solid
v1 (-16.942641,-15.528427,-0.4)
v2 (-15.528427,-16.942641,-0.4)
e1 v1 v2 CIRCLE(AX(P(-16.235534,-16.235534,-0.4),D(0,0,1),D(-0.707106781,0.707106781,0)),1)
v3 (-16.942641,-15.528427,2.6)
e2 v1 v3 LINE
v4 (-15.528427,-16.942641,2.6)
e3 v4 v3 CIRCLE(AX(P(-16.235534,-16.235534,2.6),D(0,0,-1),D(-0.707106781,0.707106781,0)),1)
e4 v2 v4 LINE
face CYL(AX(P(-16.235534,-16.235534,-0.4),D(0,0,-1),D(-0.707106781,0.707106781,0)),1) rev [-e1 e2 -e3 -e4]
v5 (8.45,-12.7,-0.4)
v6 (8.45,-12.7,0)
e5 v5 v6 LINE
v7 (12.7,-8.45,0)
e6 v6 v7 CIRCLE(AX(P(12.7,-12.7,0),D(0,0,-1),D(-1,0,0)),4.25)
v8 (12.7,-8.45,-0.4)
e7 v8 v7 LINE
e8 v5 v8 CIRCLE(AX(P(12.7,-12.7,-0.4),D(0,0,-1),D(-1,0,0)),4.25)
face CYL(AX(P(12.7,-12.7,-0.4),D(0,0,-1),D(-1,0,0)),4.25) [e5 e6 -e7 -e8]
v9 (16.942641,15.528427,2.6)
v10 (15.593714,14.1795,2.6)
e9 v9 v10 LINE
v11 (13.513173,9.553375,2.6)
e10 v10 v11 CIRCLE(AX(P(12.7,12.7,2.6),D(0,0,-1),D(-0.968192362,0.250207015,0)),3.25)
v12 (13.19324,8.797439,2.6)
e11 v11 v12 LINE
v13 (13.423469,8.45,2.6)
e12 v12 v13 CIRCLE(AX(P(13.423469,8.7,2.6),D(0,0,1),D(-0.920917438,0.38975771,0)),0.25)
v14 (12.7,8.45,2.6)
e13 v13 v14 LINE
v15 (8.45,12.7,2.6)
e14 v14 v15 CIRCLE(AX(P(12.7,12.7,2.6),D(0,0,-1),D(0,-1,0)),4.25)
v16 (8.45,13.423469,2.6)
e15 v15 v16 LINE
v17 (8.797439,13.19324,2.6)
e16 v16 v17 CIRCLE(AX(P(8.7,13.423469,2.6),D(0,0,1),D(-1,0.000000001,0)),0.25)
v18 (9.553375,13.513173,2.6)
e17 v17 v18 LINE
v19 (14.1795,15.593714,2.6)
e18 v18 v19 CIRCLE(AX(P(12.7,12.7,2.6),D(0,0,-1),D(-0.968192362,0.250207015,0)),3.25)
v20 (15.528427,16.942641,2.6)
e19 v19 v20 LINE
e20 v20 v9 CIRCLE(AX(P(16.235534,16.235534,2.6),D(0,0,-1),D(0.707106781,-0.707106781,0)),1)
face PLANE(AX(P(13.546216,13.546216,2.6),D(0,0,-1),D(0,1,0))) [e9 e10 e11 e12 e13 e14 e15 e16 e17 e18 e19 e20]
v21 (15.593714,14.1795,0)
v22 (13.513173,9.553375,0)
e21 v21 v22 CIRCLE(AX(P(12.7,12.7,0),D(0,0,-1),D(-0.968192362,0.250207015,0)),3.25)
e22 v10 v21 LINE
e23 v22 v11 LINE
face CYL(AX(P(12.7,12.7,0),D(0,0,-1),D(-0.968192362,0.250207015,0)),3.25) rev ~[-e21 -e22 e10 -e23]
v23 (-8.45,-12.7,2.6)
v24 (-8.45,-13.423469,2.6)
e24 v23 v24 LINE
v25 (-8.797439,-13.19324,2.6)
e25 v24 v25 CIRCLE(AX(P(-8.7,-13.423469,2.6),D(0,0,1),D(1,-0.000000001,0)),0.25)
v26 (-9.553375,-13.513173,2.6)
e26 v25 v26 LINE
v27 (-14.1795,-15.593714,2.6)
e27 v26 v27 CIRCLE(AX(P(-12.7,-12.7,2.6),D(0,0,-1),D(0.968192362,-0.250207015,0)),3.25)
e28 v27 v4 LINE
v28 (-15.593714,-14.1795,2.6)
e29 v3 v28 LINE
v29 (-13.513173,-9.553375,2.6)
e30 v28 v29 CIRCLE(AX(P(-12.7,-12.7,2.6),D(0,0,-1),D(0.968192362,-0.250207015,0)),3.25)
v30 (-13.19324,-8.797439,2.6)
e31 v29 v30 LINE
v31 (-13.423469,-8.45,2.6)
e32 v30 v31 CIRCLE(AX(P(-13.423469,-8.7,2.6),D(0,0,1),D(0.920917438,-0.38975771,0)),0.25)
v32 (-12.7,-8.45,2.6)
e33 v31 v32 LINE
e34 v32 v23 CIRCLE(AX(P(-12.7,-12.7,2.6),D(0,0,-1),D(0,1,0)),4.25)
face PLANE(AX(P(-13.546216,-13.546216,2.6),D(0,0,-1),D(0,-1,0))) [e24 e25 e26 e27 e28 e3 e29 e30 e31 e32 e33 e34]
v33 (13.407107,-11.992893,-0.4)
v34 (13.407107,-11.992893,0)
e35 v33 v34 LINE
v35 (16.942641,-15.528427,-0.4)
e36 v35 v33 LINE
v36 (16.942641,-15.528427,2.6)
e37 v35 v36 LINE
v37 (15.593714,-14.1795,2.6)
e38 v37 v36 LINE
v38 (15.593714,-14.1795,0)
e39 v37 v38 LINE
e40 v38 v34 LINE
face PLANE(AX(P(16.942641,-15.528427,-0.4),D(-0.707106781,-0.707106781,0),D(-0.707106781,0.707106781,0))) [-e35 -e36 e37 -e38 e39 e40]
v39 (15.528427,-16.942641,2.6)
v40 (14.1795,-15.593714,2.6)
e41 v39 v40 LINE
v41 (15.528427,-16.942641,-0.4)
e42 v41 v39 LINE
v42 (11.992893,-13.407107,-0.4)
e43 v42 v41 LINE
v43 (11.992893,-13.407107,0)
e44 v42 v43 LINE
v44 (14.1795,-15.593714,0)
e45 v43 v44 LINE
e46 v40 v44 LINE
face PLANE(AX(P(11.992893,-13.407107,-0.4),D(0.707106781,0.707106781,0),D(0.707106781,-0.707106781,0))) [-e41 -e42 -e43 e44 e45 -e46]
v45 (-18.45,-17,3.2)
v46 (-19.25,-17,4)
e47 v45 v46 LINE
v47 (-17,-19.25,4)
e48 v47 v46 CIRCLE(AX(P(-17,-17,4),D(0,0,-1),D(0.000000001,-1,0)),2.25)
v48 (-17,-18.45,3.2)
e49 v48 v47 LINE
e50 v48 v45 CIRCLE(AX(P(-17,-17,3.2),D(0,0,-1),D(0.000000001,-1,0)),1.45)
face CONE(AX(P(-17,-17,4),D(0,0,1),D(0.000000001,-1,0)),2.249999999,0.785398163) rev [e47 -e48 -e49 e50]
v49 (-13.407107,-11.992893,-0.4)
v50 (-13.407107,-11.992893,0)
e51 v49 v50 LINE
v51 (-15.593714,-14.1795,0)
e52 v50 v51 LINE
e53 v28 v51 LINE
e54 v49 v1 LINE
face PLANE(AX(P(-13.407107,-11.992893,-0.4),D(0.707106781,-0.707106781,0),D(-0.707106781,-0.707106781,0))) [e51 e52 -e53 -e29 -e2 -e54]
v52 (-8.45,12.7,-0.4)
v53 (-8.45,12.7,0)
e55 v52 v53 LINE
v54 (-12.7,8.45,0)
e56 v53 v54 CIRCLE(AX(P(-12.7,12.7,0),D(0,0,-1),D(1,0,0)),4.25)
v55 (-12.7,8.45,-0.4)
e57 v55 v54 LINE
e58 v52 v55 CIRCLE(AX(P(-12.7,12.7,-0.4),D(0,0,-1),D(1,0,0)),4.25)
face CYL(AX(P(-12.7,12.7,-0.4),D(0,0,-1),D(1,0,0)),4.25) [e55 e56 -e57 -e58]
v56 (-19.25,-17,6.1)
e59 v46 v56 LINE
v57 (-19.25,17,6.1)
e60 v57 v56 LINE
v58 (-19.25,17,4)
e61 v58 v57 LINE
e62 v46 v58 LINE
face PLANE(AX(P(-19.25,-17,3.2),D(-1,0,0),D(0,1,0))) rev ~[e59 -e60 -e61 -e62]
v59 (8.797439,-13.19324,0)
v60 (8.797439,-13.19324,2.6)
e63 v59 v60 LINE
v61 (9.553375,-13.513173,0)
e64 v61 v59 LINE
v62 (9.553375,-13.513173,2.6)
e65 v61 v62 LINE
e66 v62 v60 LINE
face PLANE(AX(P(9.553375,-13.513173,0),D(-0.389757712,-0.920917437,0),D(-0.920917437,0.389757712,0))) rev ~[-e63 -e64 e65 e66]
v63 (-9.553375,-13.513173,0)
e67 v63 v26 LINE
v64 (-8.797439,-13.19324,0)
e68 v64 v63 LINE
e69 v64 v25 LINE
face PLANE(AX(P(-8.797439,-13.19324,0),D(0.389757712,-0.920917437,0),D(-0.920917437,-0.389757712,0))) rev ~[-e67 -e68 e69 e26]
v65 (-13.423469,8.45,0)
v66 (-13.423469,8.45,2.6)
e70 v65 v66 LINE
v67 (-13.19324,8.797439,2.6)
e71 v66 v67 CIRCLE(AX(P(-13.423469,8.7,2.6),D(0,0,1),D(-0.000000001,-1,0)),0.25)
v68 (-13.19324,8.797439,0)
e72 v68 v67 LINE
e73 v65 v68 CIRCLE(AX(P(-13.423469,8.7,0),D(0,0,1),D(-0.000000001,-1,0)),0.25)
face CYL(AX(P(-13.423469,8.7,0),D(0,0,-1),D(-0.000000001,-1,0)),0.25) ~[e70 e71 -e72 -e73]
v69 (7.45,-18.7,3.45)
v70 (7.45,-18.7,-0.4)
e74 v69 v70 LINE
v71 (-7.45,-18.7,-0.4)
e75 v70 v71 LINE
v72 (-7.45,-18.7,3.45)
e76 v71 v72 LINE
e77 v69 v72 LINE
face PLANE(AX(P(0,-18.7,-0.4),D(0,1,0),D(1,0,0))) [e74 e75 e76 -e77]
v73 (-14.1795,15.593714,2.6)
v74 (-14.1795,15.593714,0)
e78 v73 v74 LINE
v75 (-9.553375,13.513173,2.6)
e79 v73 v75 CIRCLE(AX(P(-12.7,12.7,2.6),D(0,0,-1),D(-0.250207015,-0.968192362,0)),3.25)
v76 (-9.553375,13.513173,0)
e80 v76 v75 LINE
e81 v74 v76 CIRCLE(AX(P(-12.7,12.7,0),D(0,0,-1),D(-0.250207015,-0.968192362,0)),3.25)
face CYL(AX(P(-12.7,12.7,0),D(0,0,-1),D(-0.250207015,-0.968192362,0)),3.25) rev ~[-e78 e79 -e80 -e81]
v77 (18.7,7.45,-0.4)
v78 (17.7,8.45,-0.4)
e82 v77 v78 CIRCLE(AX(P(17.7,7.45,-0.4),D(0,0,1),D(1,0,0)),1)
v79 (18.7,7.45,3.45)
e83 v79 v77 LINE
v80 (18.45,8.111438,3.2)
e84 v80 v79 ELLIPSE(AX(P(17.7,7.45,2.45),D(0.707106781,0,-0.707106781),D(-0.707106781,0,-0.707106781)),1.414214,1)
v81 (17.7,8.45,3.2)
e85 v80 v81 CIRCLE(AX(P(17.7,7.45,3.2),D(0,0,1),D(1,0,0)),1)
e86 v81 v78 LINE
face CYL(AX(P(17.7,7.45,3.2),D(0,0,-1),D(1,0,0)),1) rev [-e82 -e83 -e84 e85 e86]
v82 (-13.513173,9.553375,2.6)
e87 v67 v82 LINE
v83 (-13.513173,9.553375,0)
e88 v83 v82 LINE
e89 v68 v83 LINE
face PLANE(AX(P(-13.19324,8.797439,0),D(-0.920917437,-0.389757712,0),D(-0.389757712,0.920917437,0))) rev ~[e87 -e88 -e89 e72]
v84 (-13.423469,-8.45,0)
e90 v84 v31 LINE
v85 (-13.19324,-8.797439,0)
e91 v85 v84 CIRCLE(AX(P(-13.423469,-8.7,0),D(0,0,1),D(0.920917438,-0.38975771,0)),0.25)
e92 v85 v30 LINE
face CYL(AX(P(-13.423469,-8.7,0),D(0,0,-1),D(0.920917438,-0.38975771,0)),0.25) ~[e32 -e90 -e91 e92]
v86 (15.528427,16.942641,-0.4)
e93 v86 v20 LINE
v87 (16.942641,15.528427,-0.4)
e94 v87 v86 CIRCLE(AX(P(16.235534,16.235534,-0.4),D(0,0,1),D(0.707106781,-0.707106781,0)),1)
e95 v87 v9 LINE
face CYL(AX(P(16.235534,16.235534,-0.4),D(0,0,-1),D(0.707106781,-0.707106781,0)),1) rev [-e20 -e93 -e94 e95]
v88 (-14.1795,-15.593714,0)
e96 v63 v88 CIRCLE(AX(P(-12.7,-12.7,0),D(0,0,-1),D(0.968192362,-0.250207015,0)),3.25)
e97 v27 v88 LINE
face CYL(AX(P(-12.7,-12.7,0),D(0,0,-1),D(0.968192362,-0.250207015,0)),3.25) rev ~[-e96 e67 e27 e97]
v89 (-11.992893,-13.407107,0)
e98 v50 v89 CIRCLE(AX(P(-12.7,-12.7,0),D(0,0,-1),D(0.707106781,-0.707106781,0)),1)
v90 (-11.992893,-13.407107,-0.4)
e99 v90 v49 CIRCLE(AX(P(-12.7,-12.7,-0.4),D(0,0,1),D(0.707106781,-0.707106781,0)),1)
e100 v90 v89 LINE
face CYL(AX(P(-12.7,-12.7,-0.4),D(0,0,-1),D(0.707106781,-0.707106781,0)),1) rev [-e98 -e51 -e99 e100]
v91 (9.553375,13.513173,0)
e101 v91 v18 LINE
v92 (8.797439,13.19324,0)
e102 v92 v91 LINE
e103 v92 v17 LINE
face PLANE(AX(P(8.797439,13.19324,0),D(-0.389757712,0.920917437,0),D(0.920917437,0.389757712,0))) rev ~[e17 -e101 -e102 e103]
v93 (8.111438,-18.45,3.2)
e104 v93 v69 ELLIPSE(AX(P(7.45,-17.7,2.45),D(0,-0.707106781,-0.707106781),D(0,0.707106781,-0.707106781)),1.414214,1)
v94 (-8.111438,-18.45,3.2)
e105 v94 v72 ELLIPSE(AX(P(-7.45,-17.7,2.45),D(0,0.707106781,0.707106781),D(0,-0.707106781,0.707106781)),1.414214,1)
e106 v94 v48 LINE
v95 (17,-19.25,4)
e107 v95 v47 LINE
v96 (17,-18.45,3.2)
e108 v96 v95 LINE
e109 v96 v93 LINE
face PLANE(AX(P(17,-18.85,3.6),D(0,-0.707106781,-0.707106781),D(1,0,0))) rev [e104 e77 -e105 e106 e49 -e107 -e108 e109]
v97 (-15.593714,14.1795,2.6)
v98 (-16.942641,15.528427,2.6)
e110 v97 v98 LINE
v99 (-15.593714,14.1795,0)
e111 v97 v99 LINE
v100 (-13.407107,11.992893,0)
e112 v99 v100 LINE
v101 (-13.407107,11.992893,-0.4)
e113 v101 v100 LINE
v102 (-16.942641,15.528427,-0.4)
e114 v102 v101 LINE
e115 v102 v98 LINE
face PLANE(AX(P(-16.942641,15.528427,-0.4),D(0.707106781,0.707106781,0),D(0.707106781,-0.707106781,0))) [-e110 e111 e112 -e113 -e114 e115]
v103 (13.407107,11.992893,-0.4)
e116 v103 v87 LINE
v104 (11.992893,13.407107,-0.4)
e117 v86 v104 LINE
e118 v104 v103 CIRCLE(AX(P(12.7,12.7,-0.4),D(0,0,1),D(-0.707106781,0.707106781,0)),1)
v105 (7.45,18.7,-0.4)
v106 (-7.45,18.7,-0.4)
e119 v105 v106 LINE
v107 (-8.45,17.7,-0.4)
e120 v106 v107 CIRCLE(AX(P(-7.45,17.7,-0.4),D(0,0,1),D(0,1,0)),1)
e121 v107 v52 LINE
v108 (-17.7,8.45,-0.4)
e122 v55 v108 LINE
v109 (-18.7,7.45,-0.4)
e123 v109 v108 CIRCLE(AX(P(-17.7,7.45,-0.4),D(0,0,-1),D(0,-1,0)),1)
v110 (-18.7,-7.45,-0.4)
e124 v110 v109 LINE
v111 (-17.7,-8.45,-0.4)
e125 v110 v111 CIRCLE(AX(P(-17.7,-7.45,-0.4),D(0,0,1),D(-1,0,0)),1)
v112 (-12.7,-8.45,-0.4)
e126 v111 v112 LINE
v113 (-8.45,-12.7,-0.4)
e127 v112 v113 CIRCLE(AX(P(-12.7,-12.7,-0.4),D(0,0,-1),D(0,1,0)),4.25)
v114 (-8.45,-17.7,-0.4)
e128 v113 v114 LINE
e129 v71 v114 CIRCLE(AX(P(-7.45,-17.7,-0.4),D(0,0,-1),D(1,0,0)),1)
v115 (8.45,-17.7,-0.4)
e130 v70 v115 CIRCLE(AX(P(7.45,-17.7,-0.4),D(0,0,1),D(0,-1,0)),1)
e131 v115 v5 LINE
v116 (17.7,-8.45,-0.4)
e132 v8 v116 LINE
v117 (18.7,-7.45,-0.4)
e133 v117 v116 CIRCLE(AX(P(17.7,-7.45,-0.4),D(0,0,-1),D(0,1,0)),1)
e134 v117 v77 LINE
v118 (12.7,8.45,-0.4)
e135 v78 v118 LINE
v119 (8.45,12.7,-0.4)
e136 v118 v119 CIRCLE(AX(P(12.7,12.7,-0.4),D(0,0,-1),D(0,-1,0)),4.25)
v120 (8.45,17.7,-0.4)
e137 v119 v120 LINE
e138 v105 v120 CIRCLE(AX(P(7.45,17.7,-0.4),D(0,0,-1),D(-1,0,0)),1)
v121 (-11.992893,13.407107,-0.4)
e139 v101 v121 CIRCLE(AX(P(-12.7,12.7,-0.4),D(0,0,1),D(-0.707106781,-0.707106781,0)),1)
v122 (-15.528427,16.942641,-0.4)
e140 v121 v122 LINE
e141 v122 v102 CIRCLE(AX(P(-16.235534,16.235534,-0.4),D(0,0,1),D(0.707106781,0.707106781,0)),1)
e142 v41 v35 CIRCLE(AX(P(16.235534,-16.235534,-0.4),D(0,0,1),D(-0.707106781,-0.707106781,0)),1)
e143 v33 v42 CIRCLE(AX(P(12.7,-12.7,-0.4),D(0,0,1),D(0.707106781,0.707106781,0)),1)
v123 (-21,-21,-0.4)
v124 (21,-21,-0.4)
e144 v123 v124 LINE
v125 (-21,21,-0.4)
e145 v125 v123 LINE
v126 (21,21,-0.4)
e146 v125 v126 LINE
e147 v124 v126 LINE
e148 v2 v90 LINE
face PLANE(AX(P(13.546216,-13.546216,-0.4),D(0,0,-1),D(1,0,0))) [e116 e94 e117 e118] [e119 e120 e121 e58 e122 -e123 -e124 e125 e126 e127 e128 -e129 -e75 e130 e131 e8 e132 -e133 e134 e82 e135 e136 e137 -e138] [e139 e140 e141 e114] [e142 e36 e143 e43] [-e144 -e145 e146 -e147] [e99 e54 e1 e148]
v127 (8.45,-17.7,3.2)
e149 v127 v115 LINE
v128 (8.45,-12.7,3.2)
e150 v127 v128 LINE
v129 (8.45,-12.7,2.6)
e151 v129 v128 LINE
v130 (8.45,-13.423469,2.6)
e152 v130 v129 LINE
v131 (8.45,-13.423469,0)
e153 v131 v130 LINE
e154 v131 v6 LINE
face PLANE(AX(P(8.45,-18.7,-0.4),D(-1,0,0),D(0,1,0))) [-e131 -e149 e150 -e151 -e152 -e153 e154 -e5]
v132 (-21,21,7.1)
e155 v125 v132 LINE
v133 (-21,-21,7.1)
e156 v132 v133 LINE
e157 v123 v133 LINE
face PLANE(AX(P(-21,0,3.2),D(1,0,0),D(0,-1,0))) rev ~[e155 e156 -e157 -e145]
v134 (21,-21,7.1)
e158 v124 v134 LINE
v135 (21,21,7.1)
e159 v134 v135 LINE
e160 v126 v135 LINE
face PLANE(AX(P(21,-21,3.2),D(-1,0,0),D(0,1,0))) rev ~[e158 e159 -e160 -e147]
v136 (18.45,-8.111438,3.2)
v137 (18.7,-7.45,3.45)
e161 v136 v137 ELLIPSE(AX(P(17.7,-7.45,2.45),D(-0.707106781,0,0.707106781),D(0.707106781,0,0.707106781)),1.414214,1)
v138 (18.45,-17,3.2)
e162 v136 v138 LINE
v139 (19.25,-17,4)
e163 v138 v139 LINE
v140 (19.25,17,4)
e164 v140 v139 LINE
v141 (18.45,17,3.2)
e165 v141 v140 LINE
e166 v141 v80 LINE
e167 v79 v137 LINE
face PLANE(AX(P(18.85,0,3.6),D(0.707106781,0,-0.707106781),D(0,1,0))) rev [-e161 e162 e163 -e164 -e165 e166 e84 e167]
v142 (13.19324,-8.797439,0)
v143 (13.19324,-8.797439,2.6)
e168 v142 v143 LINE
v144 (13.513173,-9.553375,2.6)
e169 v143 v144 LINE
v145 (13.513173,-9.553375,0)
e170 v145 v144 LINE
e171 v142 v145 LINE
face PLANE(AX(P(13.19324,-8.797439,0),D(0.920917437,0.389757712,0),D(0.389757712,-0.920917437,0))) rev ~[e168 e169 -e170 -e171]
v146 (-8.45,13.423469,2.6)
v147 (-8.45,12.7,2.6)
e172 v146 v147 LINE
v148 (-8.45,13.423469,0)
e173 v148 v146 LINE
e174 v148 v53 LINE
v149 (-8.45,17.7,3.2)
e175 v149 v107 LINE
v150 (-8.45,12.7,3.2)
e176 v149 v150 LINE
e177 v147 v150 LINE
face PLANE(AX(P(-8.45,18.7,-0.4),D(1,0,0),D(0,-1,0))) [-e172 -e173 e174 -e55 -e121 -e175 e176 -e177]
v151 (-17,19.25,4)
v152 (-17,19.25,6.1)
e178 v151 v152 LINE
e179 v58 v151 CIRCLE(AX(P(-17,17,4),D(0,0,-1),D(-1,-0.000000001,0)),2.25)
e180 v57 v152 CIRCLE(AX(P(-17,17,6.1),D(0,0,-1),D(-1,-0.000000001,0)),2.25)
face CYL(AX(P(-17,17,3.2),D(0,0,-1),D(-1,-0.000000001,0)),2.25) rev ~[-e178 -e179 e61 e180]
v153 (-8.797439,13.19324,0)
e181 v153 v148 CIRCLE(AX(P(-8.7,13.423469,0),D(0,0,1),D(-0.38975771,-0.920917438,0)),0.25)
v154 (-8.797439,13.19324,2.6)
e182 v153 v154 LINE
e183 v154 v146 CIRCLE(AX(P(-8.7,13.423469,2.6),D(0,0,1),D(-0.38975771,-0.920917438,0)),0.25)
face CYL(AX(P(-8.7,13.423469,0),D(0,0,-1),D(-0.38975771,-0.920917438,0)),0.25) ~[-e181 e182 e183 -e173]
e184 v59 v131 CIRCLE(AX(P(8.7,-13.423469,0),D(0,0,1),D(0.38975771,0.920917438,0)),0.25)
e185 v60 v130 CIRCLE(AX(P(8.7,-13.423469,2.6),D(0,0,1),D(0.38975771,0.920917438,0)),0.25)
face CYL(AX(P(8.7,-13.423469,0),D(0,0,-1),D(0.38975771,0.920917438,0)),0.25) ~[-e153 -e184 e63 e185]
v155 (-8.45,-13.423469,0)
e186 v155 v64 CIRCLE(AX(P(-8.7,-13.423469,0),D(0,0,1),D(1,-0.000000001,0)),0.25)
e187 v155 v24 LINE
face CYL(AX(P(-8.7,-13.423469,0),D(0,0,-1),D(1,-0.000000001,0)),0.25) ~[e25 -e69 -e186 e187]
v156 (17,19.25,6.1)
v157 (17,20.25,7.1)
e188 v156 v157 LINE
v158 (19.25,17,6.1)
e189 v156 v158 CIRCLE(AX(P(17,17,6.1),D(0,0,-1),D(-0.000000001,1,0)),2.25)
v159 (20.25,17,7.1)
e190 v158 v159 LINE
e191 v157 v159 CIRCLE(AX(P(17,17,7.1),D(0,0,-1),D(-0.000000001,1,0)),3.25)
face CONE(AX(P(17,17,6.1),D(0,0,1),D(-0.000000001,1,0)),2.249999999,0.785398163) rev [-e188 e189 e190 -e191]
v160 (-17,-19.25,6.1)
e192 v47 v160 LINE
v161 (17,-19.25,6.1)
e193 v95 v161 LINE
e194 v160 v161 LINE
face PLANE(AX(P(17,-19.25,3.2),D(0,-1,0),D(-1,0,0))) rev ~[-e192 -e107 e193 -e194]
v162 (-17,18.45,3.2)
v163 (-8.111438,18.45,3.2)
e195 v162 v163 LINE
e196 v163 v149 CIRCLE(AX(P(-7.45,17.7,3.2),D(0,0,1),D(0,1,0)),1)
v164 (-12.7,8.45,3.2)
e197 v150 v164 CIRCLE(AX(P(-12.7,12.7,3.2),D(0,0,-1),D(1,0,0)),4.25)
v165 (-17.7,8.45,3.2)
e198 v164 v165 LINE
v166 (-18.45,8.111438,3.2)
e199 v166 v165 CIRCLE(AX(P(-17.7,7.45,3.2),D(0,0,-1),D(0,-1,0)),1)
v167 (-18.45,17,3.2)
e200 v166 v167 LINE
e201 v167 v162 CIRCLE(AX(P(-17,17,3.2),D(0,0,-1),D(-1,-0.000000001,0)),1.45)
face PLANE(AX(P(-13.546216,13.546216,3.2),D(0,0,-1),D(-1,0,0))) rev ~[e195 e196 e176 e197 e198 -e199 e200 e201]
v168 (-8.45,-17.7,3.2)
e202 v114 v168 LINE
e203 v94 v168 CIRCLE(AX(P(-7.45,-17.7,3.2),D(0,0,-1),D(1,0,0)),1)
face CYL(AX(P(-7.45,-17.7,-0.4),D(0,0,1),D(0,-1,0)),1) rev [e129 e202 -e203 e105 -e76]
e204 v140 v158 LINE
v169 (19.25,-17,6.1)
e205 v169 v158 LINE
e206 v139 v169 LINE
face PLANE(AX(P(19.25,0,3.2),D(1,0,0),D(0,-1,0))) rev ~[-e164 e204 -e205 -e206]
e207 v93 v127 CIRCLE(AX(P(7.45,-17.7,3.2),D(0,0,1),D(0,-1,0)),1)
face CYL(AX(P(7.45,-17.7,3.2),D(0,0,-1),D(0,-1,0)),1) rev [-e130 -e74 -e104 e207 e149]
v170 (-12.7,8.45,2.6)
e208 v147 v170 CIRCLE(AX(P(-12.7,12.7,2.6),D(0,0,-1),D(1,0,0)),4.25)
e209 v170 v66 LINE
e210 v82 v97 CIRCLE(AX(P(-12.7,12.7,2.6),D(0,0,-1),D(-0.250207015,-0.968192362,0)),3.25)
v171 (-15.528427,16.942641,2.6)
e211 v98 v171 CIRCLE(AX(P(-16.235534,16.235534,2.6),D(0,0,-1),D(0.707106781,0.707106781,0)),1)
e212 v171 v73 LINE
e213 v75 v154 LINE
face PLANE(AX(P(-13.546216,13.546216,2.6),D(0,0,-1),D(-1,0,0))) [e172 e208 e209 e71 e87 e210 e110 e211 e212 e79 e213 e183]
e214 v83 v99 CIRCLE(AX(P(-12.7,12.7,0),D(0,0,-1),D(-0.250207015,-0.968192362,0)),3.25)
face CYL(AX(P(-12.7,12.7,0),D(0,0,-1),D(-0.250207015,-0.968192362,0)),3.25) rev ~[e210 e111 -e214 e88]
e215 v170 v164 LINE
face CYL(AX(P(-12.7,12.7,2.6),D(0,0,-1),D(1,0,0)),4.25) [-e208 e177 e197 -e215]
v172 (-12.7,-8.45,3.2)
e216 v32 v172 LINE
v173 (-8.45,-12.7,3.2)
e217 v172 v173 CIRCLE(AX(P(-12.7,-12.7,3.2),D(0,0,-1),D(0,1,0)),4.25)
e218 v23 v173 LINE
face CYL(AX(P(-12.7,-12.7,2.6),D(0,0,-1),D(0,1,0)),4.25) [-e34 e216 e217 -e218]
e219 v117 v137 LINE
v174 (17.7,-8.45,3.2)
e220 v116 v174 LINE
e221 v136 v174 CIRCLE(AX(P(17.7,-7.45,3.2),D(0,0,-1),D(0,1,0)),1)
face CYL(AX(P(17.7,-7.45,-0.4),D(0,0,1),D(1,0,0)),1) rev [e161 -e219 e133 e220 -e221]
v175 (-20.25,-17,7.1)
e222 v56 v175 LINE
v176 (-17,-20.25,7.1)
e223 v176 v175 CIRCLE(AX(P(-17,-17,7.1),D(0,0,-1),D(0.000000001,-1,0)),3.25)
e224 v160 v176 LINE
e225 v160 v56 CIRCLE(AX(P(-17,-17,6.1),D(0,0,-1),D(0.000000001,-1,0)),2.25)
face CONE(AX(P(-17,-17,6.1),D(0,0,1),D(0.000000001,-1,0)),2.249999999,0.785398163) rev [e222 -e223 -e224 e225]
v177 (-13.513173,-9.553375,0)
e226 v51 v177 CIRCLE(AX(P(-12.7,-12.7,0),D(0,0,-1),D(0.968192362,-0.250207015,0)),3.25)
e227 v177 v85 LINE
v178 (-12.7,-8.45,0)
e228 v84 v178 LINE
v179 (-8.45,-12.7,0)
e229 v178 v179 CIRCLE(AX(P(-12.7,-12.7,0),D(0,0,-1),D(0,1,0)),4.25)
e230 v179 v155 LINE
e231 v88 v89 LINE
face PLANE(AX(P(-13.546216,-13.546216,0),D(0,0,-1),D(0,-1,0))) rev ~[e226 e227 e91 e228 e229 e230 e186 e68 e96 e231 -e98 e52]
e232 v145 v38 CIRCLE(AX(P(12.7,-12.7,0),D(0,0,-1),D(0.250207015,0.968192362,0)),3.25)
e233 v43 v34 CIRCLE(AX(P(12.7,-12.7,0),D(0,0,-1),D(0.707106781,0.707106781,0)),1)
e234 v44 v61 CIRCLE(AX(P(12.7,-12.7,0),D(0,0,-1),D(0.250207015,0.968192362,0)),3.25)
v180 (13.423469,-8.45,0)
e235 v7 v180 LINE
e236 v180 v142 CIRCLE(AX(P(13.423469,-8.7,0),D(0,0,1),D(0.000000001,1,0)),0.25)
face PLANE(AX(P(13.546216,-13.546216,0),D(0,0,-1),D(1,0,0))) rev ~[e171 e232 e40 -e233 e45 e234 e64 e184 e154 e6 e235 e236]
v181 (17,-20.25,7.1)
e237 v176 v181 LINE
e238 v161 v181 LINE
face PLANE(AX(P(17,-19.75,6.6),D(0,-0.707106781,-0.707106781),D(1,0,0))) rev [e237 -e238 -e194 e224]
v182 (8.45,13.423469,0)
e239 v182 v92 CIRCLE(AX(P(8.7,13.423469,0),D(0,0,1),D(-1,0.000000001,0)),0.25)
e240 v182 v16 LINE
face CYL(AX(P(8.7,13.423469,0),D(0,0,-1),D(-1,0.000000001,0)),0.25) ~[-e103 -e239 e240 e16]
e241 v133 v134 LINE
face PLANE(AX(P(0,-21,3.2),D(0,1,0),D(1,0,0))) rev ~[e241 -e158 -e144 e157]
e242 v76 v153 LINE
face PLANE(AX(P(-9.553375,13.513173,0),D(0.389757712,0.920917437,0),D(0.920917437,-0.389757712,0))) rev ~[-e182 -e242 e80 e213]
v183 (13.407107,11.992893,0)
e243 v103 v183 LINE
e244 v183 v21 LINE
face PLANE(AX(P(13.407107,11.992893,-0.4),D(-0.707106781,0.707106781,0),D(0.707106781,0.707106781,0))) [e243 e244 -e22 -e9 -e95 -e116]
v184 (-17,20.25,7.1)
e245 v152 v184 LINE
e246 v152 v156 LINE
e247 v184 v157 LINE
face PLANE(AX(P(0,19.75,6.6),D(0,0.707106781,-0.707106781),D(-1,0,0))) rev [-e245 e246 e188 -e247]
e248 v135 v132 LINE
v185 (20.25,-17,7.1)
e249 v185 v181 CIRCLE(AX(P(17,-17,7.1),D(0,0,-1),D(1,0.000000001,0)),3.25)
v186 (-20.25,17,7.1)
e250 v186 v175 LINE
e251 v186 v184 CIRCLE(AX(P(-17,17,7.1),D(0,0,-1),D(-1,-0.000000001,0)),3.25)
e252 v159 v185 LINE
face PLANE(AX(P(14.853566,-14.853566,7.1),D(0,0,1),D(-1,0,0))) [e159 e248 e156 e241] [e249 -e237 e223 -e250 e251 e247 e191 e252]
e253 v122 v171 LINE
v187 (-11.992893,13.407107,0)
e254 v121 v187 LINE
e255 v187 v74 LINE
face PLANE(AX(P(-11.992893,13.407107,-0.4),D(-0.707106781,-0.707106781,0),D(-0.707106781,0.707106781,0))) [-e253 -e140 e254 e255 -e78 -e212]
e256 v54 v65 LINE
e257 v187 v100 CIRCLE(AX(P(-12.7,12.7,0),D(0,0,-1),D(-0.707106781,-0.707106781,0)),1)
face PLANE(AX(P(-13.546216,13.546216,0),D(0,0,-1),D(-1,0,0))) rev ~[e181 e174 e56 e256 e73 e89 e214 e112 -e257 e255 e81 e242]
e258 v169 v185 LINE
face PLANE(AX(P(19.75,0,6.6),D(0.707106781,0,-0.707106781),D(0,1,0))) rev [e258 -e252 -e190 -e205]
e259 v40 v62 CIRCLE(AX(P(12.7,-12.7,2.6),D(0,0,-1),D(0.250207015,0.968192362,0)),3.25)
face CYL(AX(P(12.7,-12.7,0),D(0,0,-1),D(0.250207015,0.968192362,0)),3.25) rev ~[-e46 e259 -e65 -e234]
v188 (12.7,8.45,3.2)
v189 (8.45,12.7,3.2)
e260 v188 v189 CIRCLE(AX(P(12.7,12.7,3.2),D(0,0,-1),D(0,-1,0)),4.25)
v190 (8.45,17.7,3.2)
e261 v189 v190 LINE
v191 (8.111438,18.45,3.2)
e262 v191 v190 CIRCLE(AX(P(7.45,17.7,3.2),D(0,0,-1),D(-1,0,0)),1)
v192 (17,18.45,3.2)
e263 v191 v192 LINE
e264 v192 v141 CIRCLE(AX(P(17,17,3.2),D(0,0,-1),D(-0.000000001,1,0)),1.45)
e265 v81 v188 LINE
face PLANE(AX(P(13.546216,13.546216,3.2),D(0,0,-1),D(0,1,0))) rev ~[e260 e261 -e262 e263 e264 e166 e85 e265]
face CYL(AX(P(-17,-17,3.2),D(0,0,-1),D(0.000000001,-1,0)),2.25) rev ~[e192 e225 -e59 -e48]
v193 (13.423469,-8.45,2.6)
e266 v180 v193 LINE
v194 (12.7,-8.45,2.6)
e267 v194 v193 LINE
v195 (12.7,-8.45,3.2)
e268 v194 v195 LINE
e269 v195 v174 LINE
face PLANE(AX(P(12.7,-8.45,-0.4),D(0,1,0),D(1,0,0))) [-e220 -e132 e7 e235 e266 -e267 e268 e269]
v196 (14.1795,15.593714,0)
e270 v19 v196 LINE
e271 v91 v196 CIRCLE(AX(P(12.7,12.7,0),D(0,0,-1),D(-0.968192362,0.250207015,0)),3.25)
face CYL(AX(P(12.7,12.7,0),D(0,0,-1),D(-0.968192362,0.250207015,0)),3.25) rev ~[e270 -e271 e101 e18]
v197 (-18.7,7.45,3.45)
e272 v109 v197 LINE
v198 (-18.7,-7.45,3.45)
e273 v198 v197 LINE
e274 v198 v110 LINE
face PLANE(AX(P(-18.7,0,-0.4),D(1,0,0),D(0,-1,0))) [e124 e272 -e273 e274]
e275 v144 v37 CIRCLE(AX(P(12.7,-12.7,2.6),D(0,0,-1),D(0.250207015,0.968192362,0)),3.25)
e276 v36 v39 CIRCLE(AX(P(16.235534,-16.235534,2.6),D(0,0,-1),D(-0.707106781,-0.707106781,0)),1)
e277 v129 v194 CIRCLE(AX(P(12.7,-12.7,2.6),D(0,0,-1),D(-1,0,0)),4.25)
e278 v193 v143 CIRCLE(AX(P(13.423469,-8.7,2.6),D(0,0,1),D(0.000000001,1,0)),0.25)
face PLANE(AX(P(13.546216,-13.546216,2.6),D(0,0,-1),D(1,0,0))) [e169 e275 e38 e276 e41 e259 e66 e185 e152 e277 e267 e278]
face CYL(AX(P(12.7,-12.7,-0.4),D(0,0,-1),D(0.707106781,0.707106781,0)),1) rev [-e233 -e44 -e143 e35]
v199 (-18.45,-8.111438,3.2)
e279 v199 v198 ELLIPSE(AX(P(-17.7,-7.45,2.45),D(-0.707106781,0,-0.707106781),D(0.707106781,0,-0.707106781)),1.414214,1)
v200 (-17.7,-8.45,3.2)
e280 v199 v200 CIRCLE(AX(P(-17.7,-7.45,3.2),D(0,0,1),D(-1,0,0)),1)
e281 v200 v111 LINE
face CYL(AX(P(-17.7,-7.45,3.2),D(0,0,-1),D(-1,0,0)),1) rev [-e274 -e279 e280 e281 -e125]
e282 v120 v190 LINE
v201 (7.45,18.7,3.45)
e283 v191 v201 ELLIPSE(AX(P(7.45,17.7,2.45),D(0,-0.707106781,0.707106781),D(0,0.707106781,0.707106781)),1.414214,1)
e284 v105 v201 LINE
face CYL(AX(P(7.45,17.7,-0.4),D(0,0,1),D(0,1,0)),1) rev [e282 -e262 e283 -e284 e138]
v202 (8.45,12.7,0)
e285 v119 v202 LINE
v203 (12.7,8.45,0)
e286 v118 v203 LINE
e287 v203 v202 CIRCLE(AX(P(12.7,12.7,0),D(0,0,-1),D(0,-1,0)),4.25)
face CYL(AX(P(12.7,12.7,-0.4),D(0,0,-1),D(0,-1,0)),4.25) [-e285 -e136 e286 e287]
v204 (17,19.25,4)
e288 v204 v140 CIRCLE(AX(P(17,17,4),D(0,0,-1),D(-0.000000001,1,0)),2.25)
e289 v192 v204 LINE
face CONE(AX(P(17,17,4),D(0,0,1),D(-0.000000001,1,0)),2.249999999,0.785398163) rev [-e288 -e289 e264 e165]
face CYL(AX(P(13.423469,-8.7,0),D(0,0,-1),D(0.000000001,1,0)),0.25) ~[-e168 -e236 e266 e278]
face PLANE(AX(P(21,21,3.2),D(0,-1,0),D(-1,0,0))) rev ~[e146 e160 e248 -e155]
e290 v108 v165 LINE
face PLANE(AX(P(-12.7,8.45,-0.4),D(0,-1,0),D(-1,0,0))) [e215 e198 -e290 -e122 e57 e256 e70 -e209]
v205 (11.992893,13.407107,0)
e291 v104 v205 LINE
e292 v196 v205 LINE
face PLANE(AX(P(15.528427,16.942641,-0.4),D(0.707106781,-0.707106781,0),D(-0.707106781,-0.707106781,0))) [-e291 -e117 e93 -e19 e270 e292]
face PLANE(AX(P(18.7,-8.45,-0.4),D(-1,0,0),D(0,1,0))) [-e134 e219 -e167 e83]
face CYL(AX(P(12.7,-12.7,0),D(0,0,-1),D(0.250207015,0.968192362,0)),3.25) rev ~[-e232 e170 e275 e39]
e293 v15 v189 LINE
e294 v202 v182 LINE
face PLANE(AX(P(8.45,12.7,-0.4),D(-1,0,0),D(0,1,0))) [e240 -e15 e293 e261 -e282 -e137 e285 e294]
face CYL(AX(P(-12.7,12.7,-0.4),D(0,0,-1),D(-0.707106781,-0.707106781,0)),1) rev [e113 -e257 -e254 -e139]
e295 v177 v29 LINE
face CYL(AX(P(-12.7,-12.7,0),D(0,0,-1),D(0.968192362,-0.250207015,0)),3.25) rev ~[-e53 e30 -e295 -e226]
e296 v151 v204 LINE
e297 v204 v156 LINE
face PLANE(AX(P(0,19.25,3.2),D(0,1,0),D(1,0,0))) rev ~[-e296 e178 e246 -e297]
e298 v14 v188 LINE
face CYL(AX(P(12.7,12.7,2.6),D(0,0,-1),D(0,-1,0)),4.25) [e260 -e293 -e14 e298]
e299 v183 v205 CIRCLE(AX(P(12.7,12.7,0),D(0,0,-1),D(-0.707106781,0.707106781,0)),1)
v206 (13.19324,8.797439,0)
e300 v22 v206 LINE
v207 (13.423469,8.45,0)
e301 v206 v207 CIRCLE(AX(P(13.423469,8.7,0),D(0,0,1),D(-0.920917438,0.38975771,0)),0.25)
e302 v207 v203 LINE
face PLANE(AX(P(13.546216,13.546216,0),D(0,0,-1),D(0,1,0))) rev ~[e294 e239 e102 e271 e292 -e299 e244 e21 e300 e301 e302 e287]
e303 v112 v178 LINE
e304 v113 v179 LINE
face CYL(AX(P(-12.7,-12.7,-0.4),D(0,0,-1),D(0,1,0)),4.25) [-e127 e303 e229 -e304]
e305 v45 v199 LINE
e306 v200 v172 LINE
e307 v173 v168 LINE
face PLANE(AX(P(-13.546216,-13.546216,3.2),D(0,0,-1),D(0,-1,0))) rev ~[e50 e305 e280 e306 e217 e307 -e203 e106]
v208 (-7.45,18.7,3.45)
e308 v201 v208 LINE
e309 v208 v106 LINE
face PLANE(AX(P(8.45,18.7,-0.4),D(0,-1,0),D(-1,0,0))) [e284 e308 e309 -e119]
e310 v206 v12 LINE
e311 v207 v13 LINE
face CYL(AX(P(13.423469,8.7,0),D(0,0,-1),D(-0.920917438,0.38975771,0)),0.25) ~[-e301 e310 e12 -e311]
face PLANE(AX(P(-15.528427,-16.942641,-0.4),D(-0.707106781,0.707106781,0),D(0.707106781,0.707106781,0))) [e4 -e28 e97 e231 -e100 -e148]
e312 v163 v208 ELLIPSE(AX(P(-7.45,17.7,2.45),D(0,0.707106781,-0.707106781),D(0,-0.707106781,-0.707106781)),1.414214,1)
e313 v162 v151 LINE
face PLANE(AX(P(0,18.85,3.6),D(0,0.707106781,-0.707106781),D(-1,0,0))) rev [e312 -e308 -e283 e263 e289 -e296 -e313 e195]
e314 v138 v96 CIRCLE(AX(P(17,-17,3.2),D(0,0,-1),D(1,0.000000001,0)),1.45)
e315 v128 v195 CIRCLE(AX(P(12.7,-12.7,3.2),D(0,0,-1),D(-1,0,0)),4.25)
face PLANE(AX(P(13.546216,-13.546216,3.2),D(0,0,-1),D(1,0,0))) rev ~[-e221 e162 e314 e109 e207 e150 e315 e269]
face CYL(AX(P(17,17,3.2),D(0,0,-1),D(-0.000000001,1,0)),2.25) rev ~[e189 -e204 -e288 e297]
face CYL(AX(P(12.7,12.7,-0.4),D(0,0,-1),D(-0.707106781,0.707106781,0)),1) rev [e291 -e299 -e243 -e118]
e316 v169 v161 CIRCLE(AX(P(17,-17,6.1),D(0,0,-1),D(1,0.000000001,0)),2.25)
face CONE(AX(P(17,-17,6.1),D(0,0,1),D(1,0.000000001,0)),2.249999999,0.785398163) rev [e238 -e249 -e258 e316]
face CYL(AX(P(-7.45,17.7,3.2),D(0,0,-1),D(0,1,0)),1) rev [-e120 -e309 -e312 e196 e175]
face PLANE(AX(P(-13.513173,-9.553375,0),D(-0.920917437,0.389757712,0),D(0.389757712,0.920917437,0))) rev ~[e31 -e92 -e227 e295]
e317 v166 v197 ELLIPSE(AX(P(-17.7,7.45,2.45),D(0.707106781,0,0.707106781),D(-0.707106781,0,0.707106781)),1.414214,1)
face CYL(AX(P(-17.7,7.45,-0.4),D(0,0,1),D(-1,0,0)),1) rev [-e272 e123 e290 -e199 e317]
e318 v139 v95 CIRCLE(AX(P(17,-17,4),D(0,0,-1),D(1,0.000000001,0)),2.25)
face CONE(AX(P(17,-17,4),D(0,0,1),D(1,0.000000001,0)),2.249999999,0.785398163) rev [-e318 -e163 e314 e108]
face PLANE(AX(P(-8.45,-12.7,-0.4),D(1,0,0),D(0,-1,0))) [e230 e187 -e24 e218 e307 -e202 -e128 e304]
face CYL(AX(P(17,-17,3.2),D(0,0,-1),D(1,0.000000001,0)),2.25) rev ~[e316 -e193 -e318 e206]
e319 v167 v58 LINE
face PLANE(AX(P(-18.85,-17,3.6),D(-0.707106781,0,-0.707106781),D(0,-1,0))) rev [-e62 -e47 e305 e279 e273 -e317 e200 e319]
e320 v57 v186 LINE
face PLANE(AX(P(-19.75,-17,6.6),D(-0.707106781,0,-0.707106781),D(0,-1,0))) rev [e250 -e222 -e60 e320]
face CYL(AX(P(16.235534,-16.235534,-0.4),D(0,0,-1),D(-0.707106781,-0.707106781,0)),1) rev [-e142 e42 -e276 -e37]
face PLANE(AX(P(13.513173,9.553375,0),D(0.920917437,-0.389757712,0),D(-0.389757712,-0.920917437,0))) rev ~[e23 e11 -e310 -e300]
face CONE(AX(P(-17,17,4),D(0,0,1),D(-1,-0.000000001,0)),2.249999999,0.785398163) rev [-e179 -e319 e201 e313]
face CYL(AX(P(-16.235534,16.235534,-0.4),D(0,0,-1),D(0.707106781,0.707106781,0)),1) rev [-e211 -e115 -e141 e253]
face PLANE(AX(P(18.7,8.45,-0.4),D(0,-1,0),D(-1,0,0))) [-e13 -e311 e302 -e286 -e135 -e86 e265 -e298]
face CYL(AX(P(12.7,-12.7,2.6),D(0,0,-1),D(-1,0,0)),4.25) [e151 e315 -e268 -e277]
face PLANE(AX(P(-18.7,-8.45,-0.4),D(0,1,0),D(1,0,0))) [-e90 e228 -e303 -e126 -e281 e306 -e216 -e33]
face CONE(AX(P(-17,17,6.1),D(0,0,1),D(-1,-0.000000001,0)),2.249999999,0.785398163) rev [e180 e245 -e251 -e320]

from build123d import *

# Parameters (mm, degrees)
MAGNET_SLOT_DEPTH   = 2.6
MAGNET_TOPPER_DEPTH = 0.6
BOTTOM_START        = 0.4
BOTTOM_DEPTH        = 0.4
CUT_EXTRUDE1_REACH  = 31.916
FILLET1_R           = 1
BOSS_EXTRUDE1_DEPTH = 3.9
CHAMFER1_SIZE       = 0.8
CHAMFER2_SIZE       = 1
CIRPATTERN1_COUNT   = 4


with BuildPart() as part:
    # Sketch1 → Magnet Slot (new body)
    with BuildSketch(Plane.XY):
        with BuildLine():
            Line((-21, 0), (-18.7, 0))
            Line((-18.7, 0), (-18.7, 8.45))
            Line((-18.7, 8.45), (-13.423469406, 8.45))
            ThreePointArc((-13.423469406, 8.45), (-13.215070921, 8.56190557), (-13.193240046, 8.797439428))
            Line((-13.193240046, 8.797439428), (-13.513172798, 9.553374824))
            ThreePointArc((-13.513172798, 9.553374824), (-14.998097039, 14.998097039), (-9.553374824, 13.513172798))
            Line((-9.553374824, 13.513172798), (-8.797439428, 13.193240046))
            ThreePointArc((-8.797439428, 13.193240046), (-8.56190557, 13.215070921), (-8.45, 13.423469406))
            Line((-8.45, 13.423469406), (-8.45, 18.7))
            Line((-8.45, 18.7), (0, 18.7))
            Line((0, 18.7), (0, 21))
            Line((0, 21), (-21, 21))
            Line((-21, 21), (-21, 0))
        make_face()
    extrude(amount=MAGNET_SLOT_DEPTH)

    # Sketch2 → Magnet Topper (add)
    with BuildSketch(Plane.XY.offset(2.6)):
        with BuildLine():
            Line((-12.7, 8.45), (-18.7, 8.45))
            Line((-18.7, 8.45), (-18.7, 0))
            Line((-18.7, 0), (-21, 0))
            Line((-21, 0), (-21, 21))
            Line((-21, 21), (0, 21))
            Line((0, 21), (0, 18.7))
            Line((0, 18.7), (-8.45, 18.7))
            Line((-8.45, 18.7), (-8.45, 12.7))
            ThreePointArc((-8.45, 12.7), (-9.69479618, 9.69479618), (-12.7, 8.45))
        make_face()
    extrude(amount=MAGNET_TOPPER_DEPTH)

    # Sketch3 → Bottom (add)
    with BuildSketch(Plane(origin=(0, 0, 0), x_dir=(-1, 0, 0), z_dir=(0, 0, -1)).offset(BOTTOM_START)):
        with BuildLine():
            Line((18.7, 8.45), (18.7, 0))
            Line((18.7, 0), (21, 0))
            Line((21, 0), (21, 21))
            Line((21, 21), (0, 21))
            Line((0, 21), (0, 18.7))
            Line((0, 18.7), (8.45, 18.7))
            Line((8.45, 18.7), (8.45, 12.7))
            ThreePointArc((8.45, 12.7), (9.69479618, 9.69479618), (12.7, 8.45))
            Line((12.7, 8.45), (18.7, 8.45))
        make_face()
    extrude(amount=-BOTTOM_DEPTH)

    # Cut-Extrude1: up to this face of the body (flat: up to its plane)
    cut_extrude1_end = Plane(part.part.faces().sort_by_distance((-12.297393308, 12.297393308, 2.6))[0])
    # Sketch4 → Cut-Extrude1 (cut, up to the picked face)
    with BuildSketch(Plane(origin=(0, 0, -0.4), x_dir=(-1, 0, 0), z_dir=(0, 0, -1)), mode=Mode.PRIVATE) as cut_extrude1_sk1:
        with BuildLine():
            Line((11.992893219, 13.407106781), (15.528427125, 16.942640687))
            ThreePointArc((15.528427125, 16.942640687), (16.942640687, 16.942640687), (16.942640687, 15.528427125))
            Line((16.942640687, 15.528427125), (13.407106781, 11.992893219))
            ThreePointArc((13.407106781, 11.992893219), (11.992893219, 11.992893219), (11.992893219, 13.407106781))
        make_face()
    cut_extrude1_tool1 = split(extrude(cut_extrude1_sk1.sketch, amount=-CUT_EXTRUDE1_REACH, mode=Mode.PRIVATE), bisect_by=cut_extrude1_end, keep=Keep.BOTH, mode=Mode.PRIVATE)
    add(cut_extrude1_tool1.solids().sort_by(Axis((-14.467767, 14.467767, -0.4), (0, 0, 1)))[0], mode=Mode.SUBTRACT)

    # Fillet1
    fillet1_edges = [part.edges().sort_by_distance(p)[0] for p in [
        (-8.45, 18.7, 1.4),
        (-18.7, 8.45, 1.4),
    ]]
    fillet(fillet1_edges, radius=FILLET1_R)

    # Sketch5 → Boss-Extrude1 (add)
    with BuildSketch(Plane.XY.offset(3.2)):
        with BuildLine():
            Line((0, 21), (-17.25, 21))
            Line((-17.25, 21), (-21, 21))
            Line((-21, 21), (-21, 17.25))
            Line((-21, 17.25), (-21, 0))
            Line((-21, 0), (-19.25, 0))
            Line((-19.25, 0), (-19.25, 17))
            ThreePointArc((-19.25, 17), (-18.590990258, 18.590990258), (-17, 19.25))
            Line((-17, 19.25), (0, 19.25))
            Line((0, 19.25), (0, 21))
        make_face()
    extrude(amount=BOSS_EXTRUDE1_DEPTH)

    # Chamfer1
    chamfer1_edges = [part.edges().sort_by_distance(p)[0] for p in [
        (-19.25, 8.5, 3.2),
        (-18.590990258, 18.590990258, 3.2),
        (-8.5, 19.25, 3.2),
    ]]
    chamfer(chamfer1_edges, length=CHAMFER1_SIZE)

    # Chamfer2
    chamfer2_edges = [part.edges().sort_by_distance(p)[0] for p in [
        (-19.25, 8.5, 7.1),
        (-18.590990258, 18.590990258, 7.1),
        (-8.5, 19.25, 7.1),
    ]]
    chamfer(chamfer2_edges, length=CHAMFER2_SIZE)


with BuildPart() as cirpattern1_1:
    # CirPattern1: pattern copy
    add(part.part.rotate(Axis((0, 0, 0), (0, 0, 1)), 1 * 360 / CIRPATTERN1_COUNT))


with BuildPart() as cirpattern1_2:
    # CirPattern1: pattern copy
    add(part.part.rotate(Axis((0, 0, 0), (0, 0, 1)), 2 * 360 / CIRPATTERN1_COUNT))


with BuildPart() as cirpattern1_3:
    # CirPattern1: pattern copy
    add(part.part.rotate(Axis((0, 0, 0), (0, 0, 1)), 3 * 360 / CIRPATTERN1_COUNT))


with BuildPart() as part_1:
    add(part.part)

    # Combine1: union CirPattern1_3, CirPattern1_1, CirPattern1_2
    add(cirpattern1_3.part)
    add(cirpattern1_1.part)
    add(cirpattern1_2.part)


solid = part_1.part
